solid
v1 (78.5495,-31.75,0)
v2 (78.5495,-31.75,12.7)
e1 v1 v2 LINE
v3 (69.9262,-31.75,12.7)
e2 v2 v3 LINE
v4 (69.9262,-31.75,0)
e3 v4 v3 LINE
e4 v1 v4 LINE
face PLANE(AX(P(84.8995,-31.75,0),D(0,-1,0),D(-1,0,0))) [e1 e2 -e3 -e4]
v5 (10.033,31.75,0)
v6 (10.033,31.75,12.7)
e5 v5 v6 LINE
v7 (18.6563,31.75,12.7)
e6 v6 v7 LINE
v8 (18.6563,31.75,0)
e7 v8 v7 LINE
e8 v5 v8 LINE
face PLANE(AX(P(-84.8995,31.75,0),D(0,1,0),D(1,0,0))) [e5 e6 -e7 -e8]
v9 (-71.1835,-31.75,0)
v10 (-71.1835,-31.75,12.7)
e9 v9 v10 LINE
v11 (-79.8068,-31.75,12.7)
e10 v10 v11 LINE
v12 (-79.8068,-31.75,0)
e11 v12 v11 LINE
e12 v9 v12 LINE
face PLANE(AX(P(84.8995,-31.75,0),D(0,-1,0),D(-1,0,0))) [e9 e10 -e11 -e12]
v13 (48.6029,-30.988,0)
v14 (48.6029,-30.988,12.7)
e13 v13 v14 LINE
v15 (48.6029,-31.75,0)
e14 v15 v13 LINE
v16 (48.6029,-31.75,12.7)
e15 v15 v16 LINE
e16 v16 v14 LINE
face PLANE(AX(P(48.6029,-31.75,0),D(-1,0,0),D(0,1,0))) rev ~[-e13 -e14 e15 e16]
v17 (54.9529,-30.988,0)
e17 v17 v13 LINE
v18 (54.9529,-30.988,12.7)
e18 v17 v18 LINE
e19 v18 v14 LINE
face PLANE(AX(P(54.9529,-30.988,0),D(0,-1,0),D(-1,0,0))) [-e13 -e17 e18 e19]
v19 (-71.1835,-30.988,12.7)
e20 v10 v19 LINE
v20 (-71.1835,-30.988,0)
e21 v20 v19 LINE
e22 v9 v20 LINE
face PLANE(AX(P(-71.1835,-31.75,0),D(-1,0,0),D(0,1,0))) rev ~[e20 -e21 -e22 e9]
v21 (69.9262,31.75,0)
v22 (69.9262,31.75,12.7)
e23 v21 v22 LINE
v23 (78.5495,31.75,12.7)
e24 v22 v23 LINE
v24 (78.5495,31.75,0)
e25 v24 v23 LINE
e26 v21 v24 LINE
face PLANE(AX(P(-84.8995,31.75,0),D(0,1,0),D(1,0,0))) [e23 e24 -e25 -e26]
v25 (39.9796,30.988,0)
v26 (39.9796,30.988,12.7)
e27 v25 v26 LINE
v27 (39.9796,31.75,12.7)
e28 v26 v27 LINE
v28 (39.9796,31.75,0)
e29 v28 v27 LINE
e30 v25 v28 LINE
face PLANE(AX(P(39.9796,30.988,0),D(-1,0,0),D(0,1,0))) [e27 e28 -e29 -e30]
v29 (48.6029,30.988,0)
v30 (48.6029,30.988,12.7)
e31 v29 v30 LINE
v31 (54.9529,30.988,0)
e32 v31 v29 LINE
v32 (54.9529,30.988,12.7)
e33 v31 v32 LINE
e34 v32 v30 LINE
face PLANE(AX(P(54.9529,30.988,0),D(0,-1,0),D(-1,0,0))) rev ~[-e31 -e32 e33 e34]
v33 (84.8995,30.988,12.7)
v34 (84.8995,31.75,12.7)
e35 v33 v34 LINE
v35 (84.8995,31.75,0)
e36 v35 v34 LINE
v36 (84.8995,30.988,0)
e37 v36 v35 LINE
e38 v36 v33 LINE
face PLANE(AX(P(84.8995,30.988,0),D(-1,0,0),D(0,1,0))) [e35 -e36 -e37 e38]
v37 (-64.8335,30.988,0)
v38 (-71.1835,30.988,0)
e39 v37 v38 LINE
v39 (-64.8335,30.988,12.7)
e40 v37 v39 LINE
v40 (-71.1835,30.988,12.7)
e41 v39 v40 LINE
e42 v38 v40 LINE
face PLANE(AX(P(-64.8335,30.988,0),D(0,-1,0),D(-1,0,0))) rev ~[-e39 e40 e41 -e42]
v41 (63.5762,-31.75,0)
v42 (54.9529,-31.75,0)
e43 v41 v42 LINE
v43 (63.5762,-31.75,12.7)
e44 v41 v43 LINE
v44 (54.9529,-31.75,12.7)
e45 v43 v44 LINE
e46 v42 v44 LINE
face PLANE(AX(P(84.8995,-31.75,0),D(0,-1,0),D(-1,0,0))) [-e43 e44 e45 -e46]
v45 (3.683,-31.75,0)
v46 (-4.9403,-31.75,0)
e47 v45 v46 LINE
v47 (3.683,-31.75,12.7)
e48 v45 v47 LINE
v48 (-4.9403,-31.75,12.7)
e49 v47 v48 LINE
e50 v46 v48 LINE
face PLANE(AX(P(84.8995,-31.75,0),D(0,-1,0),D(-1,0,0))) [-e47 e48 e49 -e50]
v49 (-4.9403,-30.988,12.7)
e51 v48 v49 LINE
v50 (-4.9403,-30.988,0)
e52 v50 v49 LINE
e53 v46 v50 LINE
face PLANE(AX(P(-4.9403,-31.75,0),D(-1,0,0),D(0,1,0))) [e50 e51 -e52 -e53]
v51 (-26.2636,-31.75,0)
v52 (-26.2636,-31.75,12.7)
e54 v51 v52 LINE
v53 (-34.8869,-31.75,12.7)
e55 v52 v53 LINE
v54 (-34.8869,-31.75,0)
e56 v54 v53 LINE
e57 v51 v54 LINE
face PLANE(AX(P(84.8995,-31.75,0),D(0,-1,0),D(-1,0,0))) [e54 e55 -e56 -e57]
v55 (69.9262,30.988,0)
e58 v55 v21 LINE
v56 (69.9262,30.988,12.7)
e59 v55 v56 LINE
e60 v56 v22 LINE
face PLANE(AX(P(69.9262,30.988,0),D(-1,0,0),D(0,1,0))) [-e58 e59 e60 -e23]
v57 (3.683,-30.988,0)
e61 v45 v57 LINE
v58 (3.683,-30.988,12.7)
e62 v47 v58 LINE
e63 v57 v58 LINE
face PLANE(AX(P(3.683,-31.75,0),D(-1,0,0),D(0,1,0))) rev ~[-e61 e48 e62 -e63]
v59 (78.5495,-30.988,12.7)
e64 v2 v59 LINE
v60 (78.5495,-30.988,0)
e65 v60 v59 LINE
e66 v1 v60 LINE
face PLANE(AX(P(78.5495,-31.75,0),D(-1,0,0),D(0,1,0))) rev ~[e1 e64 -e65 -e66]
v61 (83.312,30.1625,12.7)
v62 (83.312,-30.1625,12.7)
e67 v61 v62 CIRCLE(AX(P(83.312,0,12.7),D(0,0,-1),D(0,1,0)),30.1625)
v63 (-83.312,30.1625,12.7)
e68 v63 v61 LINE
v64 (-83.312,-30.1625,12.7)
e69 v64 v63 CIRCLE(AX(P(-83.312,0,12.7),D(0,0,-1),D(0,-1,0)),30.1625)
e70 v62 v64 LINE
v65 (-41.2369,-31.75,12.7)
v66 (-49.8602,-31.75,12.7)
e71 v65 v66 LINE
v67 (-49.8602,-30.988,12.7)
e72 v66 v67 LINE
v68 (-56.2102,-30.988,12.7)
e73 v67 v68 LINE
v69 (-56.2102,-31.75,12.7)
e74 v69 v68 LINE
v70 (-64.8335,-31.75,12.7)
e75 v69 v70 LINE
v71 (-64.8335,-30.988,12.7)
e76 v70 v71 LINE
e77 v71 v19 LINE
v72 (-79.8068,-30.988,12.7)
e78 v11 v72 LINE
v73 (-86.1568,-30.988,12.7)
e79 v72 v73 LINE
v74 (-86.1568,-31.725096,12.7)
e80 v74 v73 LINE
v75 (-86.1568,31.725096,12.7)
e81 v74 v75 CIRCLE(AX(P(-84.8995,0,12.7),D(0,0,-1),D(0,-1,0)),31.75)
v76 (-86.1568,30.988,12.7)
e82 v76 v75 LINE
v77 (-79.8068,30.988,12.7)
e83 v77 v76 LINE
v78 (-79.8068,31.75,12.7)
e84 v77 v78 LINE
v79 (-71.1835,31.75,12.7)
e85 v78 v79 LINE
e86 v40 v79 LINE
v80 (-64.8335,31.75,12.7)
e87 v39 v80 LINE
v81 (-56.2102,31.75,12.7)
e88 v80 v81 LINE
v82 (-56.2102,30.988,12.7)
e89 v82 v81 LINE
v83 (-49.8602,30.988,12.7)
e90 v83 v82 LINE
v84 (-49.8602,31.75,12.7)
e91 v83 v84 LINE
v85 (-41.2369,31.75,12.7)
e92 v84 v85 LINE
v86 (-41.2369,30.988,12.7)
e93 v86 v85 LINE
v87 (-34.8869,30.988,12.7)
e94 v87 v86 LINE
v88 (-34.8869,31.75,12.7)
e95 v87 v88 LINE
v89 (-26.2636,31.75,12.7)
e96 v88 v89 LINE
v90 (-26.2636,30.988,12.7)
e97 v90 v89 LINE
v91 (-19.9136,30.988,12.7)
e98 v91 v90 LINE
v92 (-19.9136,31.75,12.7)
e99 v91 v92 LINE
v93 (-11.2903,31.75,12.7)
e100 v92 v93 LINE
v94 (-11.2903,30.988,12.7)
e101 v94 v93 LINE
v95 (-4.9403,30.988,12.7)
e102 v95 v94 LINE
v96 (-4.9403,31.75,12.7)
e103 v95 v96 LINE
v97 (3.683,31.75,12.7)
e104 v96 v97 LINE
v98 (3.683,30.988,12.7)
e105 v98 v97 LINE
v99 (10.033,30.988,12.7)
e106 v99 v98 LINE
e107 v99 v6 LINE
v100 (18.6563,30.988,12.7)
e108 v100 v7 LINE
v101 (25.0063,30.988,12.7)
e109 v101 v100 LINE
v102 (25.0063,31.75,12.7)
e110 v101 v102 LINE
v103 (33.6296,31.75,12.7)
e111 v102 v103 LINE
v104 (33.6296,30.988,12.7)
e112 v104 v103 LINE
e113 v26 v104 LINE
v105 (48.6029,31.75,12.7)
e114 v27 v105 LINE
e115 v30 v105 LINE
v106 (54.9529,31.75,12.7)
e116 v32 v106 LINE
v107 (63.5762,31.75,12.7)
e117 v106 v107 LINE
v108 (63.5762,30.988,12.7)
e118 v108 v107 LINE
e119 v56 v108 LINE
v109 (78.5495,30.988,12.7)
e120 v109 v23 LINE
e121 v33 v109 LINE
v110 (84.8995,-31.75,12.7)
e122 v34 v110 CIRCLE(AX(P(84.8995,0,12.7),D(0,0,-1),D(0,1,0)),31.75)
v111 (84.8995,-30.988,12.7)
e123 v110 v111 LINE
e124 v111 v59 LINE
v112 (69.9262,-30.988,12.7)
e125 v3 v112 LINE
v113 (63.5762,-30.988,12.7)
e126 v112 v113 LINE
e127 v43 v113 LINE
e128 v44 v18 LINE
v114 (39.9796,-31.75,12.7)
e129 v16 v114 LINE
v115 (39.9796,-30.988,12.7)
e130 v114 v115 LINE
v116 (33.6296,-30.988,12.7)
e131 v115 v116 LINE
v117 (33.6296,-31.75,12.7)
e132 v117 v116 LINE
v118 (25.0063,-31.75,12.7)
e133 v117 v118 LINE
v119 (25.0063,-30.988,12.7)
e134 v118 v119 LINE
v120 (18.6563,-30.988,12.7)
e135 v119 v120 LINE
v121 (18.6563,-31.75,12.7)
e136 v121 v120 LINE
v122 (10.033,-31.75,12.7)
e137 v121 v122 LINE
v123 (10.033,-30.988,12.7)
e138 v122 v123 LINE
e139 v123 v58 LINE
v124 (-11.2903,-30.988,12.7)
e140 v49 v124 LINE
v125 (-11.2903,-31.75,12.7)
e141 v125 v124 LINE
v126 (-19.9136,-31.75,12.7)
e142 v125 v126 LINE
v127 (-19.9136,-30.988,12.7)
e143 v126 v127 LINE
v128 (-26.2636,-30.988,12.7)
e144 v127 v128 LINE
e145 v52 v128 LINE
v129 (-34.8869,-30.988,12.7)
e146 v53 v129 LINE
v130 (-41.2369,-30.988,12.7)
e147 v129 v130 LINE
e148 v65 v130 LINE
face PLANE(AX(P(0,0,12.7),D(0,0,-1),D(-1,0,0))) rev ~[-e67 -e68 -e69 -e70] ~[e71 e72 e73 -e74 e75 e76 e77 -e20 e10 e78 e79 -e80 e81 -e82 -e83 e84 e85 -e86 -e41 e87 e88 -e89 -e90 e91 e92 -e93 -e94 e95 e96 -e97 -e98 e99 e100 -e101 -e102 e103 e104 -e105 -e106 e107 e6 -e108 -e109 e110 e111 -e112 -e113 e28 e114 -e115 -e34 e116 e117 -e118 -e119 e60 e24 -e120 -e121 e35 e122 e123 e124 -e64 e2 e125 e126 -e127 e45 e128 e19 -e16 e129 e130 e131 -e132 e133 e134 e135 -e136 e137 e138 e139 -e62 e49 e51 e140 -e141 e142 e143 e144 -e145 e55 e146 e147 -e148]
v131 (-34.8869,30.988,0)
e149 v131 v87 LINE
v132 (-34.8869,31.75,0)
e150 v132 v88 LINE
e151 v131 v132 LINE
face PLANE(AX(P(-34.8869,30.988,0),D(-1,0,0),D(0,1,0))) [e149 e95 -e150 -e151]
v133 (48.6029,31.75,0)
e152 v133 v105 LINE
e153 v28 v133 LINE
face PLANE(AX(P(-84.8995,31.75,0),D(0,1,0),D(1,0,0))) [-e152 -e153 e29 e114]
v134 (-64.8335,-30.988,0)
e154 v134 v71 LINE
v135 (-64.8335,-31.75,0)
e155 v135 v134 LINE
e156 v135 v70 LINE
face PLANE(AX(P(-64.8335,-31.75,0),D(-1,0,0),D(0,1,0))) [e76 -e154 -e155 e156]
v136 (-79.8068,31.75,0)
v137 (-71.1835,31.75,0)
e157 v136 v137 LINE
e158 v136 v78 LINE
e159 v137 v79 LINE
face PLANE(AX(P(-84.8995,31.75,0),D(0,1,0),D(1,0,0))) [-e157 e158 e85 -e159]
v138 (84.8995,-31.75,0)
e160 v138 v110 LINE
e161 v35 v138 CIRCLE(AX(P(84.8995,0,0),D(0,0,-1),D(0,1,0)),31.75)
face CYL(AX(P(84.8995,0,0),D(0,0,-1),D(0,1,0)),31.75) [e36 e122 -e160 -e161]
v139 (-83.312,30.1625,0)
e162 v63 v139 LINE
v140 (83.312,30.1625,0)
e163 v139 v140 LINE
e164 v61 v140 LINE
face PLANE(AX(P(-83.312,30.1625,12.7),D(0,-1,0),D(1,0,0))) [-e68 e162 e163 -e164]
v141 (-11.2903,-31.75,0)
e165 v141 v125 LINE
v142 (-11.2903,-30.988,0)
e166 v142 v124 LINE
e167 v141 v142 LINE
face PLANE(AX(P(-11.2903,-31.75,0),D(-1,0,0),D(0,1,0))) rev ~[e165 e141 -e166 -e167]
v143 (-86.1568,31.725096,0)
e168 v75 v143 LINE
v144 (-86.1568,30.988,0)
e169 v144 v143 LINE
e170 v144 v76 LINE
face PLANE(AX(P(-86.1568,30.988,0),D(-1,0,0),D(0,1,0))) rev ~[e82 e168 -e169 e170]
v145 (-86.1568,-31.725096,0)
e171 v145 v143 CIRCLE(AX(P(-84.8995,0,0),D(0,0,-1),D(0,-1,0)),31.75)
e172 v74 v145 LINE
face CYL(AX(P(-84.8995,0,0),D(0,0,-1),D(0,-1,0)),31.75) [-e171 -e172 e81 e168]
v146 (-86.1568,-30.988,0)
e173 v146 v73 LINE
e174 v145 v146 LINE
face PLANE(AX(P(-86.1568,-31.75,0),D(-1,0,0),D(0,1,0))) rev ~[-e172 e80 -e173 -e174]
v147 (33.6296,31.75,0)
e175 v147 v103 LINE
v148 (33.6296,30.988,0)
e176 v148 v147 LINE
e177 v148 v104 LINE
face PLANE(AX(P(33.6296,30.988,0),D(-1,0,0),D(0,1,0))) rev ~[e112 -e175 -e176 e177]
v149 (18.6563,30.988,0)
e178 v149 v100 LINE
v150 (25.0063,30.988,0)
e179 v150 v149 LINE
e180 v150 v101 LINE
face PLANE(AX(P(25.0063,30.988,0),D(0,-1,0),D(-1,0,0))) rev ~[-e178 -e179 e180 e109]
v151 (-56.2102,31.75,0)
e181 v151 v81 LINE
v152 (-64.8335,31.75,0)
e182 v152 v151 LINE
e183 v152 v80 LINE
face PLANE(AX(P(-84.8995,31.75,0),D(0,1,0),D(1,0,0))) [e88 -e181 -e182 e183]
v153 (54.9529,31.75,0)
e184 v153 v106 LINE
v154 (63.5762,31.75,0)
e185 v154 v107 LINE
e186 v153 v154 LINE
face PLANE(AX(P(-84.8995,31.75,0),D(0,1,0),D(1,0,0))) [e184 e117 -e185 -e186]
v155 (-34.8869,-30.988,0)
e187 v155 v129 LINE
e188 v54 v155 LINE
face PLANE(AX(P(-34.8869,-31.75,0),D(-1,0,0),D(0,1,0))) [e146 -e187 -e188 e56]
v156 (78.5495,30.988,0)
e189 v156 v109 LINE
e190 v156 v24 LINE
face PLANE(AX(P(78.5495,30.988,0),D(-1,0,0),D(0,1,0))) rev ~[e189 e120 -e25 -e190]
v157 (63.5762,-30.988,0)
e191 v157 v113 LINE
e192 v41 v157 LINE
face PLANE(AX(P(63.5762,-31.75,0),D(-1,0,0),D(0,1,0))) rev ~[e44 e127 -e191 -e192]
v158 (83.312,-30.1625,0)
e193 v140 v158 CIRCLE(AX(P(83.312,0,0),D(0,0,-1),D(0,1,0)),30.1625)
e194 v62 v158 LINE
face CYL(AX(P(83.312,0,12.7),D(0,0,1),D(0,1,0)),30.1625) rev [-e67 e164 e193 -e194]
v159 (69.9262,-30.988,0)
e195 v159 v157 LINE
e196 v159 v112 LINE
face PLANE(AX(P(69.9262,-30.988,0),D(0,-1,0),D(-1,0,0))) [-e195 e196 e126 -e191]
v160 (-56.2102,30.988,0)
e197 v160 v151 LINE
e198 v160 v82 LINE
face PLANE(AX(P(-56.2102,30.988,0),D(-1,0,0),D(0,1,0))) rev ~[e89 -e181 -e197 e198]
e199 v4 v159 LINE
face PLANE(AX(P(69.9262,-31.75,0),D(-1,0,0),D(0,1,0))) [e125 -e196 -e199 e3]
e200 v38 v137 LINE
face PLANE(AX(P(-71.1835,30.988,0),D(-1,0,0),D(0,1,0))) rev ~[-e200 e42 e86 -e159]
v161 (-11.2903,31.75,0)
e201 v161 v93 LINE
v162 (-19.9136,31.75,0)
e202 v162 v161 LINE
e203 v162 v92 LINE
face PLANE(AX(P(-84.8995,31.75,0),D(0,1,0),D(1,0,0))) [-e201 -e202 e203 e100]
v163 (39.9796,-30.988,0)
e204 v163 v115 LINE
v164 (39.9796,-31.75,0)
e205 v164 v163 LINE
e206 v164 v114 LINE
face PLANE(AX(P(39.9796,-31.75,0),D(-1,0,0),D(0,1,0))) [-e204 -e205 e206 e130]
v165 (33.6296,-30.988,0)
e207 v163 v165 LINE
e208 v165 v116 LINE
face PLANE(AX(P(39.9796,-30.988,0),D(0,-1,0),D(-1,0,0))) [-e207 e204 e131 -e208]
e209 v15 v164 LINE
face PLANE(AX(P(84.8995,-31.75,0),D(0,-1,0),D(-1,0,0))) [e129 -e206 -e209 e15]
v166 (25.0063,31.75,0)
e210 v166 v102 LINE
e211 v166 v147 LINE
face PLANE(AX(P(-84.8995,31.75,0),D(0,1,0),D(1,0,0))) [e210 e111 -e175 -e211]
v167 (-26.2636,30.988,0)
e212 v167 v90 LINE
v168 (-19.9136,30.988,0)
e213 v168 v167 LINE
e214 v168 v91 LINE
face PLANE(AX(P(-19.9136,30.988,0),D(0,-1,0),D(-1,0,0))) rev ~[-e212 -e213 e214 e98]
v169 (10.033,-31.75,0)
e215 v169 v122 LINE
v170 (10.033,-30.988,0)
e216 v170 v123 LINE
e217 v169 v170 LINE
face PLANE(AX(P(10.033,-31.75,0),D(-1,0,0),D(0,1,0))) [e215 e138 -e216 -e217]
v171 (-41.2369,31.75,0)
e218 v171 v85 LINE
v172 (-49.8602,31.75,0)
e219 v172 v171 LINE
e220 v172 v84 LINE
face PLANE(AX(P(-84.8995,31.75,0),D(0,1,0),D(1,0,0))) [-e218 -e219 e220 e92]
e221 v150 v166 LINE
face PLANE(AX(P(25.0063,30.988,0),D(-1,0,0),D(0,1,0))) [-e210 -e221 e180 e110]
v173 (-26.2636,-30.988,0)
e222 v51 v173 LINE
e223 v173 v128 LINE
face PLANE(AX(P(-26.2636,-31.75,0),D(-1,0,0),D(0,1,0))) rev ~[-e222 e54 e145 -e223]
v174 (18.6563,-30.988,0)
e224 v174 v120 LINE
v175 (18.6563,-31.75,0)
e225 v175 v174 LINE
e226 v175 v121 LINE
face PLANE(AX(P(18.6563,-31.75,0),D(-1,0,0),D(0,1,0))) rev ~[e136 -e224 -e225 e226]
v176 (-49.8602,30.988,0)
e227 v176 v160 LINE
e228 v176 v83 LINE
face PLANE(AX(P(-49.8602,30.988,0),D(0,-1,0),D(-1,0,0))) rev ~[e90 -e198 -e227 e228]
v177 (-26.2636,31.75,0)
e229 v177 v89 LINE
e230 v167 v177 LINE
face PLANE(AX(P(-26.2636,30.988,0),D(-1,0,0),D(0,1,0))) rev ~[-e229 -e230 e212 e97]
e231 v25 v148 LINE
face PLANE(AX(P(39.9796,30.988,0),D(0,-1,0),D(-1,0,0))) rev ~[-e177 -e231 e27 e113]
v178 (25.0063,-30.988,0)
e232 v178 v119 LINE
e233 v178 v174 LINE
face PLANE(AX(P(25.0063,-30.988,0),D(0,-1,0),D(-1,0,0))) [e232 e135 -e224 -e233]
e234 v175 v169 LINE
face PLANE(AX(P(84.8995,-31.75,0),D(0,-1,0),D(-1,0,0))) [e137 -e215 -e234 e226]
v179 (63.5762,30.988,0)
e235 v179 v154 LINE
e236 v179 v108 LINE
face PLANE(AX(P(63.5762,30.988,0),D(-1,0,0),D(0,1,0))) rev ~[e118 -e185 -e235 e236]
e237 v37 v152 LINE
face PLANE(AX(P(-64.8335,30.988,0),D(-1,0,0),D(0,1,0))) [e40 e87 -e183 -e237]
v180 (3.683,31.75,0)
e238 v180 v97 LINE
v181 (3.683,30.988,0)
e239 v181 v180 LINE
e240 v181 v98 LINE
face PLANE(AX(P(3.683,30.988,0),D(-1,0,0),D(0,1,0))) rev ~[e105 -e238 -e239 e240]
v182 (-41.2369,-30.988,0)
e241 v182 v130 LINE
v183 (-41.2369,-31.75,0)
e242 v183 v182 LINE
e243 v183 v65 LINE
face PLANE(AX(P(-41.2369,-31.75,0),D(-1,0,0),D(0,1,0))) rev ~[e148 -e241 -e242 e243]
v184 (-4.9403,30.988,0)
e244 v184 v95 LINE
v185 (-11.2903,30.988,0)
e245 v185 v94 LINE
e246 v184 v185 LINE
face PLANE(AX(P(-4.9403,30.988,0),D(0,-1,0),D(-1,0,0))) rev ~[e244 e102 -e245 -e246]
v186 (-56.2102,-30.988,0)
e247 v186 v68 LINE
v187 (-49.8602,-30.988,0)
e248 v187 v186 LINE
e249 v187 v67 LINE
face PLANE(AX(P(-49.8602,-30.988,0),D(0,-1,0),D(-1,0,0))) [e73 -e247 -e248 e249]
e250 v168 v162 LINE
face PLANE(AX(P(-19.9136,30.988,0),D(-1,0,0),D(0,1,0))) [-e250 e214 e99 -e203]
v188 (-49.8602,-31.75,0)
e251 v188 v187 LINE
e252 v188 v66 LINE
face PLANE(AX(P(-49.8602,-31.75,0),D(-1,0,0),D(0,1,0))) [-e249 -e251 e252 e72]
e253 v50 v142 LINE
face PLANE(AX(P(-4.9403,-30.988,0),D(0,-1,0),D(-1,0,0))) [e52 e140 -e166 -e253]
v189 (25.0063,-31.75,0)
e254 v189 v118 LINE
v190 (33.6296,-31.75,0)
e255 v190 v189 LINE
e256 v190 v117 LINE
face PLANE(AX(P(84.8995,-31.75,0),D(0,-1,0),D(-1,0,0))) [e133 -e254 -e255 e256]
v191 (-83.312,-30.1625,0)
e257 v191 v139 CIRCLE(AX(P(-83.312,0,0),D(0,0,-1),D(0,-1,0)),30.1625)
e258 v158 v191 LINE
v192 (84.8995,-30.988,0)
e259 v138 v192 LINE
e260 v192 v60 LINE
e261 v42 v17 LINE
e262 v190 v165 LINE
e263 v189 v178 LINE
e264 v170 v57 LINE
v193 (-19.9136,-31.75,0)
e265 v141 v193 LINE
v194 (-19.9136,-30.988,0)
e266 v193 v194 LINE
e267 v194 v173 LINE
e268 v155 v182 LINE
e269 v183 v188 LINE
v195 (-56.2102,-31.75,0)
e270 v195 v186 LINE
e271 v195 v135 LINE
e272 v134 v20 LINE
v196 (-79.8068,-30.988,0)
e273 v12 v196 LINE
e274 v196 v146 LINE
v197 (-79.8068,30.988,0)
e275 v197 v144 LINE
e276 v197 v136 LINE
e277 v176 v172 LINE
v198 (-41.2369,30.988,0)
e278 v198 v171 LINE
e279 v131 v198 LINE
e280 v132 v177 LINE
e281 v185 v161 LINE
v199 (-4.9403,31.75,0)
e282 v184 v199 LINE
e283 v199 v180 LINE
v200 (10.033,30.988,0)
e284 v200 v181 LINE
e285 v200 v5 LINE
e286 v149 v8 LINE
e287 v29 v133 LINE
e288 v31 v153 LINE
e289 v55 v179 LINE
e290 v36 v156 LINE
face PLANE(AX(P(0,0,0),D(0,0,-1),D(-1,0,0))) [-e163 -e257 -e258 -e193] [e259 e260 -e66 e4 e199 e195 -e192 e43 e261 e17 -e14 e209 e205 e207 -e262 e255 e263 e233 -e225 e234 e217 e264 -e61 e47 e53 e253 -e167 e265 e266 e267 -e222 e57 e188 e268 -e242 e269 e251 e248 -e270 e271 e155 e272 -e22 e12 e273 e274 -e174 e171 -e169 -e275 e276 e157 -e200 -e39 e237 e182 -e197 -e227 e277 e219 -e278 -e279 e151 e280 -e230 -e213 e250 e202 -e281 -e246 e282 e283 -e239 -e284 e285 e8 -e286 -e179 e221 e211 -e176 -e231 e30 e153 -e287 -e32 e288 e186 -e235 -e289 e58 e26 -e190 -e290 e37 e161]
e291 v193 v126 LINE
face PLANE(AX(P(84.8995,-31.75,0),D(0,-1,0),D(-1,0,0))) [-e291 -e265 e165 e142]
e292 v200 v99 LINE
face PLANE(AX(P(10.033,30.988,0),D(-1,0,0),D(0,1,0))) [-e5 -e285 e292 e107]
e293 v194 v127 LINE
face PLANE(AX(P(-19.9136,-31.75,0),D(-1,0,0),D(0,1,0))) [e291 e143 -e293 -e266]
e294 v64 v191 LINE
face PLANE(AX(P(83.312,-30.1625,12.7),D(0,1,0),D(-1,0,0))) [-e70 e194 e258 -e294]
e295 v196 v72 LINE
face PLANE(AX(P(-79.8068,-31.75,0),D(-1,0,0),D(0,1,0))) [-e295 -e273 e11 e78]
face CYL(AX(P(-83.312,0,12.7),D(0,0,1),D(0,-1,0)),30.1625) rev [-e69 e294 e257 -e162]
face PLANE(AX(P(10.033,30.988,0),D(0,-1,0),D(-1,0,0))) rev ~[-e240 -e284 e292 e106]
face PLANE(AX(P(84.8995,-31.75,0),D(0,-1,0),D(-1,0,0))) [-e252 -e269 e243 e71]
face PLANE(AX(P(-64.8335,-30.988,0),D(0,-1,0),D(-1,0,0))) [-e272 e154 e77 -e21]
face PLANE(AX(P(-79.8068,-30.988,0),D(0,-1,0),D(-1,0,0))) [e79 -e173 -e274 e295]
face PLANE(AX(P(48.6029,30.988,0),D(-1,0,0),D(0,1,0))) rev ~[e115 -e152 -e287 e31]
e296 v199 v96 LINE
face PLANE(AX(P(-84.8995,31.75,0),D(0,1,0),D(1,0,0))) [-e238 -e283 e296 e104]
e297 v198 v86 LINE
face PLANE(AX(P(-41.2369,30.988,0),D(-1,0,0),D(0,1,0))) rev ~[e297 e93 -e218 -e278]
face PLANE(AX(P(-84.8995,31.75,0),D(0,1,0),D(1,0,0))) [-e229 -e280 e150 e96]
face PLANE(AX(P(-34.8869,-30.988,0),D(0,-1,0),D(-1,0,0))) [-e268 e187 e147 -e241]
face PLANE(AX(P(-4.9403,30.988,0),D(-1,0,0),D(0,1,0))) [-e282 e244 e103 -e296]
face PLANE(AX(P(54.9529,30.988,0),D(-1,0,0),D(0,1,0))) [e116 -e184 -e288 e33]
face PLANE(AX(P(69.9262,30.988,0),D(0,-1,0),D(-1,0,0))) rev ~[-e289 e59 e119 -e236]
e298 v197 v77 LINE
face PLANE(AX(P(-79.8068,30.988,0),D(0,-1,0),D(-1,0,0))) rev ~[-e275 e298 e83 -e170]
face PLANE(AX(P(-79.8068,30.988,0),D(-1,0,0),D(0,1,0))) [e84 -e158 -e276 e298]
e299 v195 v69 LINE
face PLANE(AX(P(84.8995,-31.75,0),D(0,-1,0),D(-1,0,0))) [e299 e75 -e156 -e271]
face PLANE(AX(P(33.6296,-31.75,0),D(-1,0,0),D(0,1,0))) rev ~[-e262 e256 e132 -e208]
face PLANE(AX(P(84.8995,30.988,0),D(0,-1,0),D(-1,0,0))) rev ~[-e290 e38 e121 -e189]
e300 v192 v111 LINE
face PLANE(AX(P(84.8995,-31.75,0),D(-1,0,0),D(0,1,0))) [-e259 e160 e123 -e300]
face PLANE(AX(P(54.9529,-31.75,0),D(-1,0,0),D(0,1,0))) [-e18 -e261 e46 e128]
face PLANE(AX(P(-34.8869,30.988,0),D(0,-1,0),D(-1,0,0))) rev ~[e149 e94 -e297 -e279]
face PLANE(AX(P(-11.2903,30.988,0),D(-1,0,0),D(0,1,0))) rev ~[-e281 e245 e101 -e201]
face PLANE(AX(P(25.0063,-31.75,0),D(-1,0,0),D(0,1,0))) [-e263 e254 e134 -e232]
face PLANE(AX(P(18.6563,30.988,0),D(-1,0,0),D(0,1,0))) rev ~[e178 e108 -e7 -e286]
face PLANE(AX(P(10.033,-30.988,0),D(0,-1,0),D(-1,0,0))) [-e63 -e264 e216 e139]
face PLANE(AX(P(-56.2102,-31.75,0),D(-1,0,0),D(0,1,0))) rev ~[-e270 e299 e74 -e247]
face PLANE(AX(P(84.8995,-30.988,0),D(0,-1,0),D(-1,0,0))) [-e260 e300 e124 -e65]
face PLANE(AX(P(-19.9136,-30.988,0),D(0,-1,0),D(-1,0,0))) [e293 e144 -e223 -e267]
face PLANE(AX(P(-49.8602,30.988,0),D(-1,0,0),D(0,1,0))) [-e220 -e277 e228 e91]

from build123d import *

# Parameters (mm, degrees)
BOSS_EXTRUDE4_DEPTH = 12.7
CUT_EXTRUDE4_DEPTH  = 12.7
SKETCH13_W          = 6.35
SKETCH13_H          = 0.762
CUT_EXTRUDE5_DEPTH  = 12.7
LPATTERN3_COUNT     = 12
LPATTERN3_PITCH     = 14.9733
SKETCH14_W          = 6.35
SKETCH14_H          = 0.762
CUT_EXTRUDE6_DEPTH  = 12.7
LPATTERN4_COUNT     = 12
LPATTERN4_PITCH     = 14.9733


with BuildPart() as part:
    # Sketch11 → Boss-Extrude4 (new body)
    with BuildSketch(Plane.XY):
        with BuildLine():
            Line((-84.8995, 31.75), (84.8995, 31.75))
            ThreePointArc((84.8995, 31.75), (116.6495, 0), (84.8995, -31.75))
            Line((84.8995, -31.75), (-84.8995, -31.75))
            ThreePointArc((-84.8995, -31.75), (-116.6495, 0), (-84.8995, 31.75))
        make_face()
    extrude(amount=BOSS_EXTRUDE4_DEPTH)

    # Sketch12 → Cut-Extrude4 (cut)
    with BuildSketch(Plane.XY.offset(12.7)):
        with BuildLine():
            Line((-83.312, 30.1625), (83.312, 30.1625))
            ThreePointArc((83.312, 30.1625), (113.4745, 0), (83.312, -30.1625))
            Line((83.312, -30.1625), (-83.312, -30.1625))
            ThreePointArc((-83.312, -30.1625), (-113.4745, 0), (-83.312, 30.1625))
        make_face()
    extrude(amount=-CUT_EXTRUDE4_DEPTH, mode=Mode.SUBTRACT)

    # Sketch13 → Cut-Extrude5 (cut)
    with BuildSketch(Plane(origin=(0, 0, 0), x_dir=(-1, 0, 0), z_dir=(0, 0, -1))):
        with Locations((-81.7245, 31.369)):
            Rectangle(SKETCH13_W, SKETCH13_H)
    cut_extrude5 = extrude(amount=-CUT_EXTRUDE5_DEPTH, mode=Mode.SUBTRACT)

    # LPattern3: Cut-Extrude5 ×12
    with Locations(*[(-i * LPATTERN3_PITCH, 0, 0) for i in range(1, LPATTERN3_COUNT)]):
        add(cut_extrude5, mode=Mode.SUBTRACT)

    # Sketch14 → Cut-Extrude6 (cut)
    with BuildSketch(Plane(origin=(0, 0, 0), x_dir=(-1, 0, 0), z_dir=(0, 0, -1))):
        with Locations((-81.7245, -31.369)):
            Rectangle(SKETCH14_W, SKETCH14_H)
    cut_extrude6 = extrude(amount=-CUT_EXTRUDE6_DEPTH, mode=Mode.SUBTRACT)

    # LPattern4: Cut-Extrude6 ×12
    with Locations(*[(-i * LPATTERN4_PITCH, 0, 0) for i in range(1, LPATTERN4_COUNT)]):
        add(cut_extrude6, mode=Mode.SUBTRACT)


solid = part.part
